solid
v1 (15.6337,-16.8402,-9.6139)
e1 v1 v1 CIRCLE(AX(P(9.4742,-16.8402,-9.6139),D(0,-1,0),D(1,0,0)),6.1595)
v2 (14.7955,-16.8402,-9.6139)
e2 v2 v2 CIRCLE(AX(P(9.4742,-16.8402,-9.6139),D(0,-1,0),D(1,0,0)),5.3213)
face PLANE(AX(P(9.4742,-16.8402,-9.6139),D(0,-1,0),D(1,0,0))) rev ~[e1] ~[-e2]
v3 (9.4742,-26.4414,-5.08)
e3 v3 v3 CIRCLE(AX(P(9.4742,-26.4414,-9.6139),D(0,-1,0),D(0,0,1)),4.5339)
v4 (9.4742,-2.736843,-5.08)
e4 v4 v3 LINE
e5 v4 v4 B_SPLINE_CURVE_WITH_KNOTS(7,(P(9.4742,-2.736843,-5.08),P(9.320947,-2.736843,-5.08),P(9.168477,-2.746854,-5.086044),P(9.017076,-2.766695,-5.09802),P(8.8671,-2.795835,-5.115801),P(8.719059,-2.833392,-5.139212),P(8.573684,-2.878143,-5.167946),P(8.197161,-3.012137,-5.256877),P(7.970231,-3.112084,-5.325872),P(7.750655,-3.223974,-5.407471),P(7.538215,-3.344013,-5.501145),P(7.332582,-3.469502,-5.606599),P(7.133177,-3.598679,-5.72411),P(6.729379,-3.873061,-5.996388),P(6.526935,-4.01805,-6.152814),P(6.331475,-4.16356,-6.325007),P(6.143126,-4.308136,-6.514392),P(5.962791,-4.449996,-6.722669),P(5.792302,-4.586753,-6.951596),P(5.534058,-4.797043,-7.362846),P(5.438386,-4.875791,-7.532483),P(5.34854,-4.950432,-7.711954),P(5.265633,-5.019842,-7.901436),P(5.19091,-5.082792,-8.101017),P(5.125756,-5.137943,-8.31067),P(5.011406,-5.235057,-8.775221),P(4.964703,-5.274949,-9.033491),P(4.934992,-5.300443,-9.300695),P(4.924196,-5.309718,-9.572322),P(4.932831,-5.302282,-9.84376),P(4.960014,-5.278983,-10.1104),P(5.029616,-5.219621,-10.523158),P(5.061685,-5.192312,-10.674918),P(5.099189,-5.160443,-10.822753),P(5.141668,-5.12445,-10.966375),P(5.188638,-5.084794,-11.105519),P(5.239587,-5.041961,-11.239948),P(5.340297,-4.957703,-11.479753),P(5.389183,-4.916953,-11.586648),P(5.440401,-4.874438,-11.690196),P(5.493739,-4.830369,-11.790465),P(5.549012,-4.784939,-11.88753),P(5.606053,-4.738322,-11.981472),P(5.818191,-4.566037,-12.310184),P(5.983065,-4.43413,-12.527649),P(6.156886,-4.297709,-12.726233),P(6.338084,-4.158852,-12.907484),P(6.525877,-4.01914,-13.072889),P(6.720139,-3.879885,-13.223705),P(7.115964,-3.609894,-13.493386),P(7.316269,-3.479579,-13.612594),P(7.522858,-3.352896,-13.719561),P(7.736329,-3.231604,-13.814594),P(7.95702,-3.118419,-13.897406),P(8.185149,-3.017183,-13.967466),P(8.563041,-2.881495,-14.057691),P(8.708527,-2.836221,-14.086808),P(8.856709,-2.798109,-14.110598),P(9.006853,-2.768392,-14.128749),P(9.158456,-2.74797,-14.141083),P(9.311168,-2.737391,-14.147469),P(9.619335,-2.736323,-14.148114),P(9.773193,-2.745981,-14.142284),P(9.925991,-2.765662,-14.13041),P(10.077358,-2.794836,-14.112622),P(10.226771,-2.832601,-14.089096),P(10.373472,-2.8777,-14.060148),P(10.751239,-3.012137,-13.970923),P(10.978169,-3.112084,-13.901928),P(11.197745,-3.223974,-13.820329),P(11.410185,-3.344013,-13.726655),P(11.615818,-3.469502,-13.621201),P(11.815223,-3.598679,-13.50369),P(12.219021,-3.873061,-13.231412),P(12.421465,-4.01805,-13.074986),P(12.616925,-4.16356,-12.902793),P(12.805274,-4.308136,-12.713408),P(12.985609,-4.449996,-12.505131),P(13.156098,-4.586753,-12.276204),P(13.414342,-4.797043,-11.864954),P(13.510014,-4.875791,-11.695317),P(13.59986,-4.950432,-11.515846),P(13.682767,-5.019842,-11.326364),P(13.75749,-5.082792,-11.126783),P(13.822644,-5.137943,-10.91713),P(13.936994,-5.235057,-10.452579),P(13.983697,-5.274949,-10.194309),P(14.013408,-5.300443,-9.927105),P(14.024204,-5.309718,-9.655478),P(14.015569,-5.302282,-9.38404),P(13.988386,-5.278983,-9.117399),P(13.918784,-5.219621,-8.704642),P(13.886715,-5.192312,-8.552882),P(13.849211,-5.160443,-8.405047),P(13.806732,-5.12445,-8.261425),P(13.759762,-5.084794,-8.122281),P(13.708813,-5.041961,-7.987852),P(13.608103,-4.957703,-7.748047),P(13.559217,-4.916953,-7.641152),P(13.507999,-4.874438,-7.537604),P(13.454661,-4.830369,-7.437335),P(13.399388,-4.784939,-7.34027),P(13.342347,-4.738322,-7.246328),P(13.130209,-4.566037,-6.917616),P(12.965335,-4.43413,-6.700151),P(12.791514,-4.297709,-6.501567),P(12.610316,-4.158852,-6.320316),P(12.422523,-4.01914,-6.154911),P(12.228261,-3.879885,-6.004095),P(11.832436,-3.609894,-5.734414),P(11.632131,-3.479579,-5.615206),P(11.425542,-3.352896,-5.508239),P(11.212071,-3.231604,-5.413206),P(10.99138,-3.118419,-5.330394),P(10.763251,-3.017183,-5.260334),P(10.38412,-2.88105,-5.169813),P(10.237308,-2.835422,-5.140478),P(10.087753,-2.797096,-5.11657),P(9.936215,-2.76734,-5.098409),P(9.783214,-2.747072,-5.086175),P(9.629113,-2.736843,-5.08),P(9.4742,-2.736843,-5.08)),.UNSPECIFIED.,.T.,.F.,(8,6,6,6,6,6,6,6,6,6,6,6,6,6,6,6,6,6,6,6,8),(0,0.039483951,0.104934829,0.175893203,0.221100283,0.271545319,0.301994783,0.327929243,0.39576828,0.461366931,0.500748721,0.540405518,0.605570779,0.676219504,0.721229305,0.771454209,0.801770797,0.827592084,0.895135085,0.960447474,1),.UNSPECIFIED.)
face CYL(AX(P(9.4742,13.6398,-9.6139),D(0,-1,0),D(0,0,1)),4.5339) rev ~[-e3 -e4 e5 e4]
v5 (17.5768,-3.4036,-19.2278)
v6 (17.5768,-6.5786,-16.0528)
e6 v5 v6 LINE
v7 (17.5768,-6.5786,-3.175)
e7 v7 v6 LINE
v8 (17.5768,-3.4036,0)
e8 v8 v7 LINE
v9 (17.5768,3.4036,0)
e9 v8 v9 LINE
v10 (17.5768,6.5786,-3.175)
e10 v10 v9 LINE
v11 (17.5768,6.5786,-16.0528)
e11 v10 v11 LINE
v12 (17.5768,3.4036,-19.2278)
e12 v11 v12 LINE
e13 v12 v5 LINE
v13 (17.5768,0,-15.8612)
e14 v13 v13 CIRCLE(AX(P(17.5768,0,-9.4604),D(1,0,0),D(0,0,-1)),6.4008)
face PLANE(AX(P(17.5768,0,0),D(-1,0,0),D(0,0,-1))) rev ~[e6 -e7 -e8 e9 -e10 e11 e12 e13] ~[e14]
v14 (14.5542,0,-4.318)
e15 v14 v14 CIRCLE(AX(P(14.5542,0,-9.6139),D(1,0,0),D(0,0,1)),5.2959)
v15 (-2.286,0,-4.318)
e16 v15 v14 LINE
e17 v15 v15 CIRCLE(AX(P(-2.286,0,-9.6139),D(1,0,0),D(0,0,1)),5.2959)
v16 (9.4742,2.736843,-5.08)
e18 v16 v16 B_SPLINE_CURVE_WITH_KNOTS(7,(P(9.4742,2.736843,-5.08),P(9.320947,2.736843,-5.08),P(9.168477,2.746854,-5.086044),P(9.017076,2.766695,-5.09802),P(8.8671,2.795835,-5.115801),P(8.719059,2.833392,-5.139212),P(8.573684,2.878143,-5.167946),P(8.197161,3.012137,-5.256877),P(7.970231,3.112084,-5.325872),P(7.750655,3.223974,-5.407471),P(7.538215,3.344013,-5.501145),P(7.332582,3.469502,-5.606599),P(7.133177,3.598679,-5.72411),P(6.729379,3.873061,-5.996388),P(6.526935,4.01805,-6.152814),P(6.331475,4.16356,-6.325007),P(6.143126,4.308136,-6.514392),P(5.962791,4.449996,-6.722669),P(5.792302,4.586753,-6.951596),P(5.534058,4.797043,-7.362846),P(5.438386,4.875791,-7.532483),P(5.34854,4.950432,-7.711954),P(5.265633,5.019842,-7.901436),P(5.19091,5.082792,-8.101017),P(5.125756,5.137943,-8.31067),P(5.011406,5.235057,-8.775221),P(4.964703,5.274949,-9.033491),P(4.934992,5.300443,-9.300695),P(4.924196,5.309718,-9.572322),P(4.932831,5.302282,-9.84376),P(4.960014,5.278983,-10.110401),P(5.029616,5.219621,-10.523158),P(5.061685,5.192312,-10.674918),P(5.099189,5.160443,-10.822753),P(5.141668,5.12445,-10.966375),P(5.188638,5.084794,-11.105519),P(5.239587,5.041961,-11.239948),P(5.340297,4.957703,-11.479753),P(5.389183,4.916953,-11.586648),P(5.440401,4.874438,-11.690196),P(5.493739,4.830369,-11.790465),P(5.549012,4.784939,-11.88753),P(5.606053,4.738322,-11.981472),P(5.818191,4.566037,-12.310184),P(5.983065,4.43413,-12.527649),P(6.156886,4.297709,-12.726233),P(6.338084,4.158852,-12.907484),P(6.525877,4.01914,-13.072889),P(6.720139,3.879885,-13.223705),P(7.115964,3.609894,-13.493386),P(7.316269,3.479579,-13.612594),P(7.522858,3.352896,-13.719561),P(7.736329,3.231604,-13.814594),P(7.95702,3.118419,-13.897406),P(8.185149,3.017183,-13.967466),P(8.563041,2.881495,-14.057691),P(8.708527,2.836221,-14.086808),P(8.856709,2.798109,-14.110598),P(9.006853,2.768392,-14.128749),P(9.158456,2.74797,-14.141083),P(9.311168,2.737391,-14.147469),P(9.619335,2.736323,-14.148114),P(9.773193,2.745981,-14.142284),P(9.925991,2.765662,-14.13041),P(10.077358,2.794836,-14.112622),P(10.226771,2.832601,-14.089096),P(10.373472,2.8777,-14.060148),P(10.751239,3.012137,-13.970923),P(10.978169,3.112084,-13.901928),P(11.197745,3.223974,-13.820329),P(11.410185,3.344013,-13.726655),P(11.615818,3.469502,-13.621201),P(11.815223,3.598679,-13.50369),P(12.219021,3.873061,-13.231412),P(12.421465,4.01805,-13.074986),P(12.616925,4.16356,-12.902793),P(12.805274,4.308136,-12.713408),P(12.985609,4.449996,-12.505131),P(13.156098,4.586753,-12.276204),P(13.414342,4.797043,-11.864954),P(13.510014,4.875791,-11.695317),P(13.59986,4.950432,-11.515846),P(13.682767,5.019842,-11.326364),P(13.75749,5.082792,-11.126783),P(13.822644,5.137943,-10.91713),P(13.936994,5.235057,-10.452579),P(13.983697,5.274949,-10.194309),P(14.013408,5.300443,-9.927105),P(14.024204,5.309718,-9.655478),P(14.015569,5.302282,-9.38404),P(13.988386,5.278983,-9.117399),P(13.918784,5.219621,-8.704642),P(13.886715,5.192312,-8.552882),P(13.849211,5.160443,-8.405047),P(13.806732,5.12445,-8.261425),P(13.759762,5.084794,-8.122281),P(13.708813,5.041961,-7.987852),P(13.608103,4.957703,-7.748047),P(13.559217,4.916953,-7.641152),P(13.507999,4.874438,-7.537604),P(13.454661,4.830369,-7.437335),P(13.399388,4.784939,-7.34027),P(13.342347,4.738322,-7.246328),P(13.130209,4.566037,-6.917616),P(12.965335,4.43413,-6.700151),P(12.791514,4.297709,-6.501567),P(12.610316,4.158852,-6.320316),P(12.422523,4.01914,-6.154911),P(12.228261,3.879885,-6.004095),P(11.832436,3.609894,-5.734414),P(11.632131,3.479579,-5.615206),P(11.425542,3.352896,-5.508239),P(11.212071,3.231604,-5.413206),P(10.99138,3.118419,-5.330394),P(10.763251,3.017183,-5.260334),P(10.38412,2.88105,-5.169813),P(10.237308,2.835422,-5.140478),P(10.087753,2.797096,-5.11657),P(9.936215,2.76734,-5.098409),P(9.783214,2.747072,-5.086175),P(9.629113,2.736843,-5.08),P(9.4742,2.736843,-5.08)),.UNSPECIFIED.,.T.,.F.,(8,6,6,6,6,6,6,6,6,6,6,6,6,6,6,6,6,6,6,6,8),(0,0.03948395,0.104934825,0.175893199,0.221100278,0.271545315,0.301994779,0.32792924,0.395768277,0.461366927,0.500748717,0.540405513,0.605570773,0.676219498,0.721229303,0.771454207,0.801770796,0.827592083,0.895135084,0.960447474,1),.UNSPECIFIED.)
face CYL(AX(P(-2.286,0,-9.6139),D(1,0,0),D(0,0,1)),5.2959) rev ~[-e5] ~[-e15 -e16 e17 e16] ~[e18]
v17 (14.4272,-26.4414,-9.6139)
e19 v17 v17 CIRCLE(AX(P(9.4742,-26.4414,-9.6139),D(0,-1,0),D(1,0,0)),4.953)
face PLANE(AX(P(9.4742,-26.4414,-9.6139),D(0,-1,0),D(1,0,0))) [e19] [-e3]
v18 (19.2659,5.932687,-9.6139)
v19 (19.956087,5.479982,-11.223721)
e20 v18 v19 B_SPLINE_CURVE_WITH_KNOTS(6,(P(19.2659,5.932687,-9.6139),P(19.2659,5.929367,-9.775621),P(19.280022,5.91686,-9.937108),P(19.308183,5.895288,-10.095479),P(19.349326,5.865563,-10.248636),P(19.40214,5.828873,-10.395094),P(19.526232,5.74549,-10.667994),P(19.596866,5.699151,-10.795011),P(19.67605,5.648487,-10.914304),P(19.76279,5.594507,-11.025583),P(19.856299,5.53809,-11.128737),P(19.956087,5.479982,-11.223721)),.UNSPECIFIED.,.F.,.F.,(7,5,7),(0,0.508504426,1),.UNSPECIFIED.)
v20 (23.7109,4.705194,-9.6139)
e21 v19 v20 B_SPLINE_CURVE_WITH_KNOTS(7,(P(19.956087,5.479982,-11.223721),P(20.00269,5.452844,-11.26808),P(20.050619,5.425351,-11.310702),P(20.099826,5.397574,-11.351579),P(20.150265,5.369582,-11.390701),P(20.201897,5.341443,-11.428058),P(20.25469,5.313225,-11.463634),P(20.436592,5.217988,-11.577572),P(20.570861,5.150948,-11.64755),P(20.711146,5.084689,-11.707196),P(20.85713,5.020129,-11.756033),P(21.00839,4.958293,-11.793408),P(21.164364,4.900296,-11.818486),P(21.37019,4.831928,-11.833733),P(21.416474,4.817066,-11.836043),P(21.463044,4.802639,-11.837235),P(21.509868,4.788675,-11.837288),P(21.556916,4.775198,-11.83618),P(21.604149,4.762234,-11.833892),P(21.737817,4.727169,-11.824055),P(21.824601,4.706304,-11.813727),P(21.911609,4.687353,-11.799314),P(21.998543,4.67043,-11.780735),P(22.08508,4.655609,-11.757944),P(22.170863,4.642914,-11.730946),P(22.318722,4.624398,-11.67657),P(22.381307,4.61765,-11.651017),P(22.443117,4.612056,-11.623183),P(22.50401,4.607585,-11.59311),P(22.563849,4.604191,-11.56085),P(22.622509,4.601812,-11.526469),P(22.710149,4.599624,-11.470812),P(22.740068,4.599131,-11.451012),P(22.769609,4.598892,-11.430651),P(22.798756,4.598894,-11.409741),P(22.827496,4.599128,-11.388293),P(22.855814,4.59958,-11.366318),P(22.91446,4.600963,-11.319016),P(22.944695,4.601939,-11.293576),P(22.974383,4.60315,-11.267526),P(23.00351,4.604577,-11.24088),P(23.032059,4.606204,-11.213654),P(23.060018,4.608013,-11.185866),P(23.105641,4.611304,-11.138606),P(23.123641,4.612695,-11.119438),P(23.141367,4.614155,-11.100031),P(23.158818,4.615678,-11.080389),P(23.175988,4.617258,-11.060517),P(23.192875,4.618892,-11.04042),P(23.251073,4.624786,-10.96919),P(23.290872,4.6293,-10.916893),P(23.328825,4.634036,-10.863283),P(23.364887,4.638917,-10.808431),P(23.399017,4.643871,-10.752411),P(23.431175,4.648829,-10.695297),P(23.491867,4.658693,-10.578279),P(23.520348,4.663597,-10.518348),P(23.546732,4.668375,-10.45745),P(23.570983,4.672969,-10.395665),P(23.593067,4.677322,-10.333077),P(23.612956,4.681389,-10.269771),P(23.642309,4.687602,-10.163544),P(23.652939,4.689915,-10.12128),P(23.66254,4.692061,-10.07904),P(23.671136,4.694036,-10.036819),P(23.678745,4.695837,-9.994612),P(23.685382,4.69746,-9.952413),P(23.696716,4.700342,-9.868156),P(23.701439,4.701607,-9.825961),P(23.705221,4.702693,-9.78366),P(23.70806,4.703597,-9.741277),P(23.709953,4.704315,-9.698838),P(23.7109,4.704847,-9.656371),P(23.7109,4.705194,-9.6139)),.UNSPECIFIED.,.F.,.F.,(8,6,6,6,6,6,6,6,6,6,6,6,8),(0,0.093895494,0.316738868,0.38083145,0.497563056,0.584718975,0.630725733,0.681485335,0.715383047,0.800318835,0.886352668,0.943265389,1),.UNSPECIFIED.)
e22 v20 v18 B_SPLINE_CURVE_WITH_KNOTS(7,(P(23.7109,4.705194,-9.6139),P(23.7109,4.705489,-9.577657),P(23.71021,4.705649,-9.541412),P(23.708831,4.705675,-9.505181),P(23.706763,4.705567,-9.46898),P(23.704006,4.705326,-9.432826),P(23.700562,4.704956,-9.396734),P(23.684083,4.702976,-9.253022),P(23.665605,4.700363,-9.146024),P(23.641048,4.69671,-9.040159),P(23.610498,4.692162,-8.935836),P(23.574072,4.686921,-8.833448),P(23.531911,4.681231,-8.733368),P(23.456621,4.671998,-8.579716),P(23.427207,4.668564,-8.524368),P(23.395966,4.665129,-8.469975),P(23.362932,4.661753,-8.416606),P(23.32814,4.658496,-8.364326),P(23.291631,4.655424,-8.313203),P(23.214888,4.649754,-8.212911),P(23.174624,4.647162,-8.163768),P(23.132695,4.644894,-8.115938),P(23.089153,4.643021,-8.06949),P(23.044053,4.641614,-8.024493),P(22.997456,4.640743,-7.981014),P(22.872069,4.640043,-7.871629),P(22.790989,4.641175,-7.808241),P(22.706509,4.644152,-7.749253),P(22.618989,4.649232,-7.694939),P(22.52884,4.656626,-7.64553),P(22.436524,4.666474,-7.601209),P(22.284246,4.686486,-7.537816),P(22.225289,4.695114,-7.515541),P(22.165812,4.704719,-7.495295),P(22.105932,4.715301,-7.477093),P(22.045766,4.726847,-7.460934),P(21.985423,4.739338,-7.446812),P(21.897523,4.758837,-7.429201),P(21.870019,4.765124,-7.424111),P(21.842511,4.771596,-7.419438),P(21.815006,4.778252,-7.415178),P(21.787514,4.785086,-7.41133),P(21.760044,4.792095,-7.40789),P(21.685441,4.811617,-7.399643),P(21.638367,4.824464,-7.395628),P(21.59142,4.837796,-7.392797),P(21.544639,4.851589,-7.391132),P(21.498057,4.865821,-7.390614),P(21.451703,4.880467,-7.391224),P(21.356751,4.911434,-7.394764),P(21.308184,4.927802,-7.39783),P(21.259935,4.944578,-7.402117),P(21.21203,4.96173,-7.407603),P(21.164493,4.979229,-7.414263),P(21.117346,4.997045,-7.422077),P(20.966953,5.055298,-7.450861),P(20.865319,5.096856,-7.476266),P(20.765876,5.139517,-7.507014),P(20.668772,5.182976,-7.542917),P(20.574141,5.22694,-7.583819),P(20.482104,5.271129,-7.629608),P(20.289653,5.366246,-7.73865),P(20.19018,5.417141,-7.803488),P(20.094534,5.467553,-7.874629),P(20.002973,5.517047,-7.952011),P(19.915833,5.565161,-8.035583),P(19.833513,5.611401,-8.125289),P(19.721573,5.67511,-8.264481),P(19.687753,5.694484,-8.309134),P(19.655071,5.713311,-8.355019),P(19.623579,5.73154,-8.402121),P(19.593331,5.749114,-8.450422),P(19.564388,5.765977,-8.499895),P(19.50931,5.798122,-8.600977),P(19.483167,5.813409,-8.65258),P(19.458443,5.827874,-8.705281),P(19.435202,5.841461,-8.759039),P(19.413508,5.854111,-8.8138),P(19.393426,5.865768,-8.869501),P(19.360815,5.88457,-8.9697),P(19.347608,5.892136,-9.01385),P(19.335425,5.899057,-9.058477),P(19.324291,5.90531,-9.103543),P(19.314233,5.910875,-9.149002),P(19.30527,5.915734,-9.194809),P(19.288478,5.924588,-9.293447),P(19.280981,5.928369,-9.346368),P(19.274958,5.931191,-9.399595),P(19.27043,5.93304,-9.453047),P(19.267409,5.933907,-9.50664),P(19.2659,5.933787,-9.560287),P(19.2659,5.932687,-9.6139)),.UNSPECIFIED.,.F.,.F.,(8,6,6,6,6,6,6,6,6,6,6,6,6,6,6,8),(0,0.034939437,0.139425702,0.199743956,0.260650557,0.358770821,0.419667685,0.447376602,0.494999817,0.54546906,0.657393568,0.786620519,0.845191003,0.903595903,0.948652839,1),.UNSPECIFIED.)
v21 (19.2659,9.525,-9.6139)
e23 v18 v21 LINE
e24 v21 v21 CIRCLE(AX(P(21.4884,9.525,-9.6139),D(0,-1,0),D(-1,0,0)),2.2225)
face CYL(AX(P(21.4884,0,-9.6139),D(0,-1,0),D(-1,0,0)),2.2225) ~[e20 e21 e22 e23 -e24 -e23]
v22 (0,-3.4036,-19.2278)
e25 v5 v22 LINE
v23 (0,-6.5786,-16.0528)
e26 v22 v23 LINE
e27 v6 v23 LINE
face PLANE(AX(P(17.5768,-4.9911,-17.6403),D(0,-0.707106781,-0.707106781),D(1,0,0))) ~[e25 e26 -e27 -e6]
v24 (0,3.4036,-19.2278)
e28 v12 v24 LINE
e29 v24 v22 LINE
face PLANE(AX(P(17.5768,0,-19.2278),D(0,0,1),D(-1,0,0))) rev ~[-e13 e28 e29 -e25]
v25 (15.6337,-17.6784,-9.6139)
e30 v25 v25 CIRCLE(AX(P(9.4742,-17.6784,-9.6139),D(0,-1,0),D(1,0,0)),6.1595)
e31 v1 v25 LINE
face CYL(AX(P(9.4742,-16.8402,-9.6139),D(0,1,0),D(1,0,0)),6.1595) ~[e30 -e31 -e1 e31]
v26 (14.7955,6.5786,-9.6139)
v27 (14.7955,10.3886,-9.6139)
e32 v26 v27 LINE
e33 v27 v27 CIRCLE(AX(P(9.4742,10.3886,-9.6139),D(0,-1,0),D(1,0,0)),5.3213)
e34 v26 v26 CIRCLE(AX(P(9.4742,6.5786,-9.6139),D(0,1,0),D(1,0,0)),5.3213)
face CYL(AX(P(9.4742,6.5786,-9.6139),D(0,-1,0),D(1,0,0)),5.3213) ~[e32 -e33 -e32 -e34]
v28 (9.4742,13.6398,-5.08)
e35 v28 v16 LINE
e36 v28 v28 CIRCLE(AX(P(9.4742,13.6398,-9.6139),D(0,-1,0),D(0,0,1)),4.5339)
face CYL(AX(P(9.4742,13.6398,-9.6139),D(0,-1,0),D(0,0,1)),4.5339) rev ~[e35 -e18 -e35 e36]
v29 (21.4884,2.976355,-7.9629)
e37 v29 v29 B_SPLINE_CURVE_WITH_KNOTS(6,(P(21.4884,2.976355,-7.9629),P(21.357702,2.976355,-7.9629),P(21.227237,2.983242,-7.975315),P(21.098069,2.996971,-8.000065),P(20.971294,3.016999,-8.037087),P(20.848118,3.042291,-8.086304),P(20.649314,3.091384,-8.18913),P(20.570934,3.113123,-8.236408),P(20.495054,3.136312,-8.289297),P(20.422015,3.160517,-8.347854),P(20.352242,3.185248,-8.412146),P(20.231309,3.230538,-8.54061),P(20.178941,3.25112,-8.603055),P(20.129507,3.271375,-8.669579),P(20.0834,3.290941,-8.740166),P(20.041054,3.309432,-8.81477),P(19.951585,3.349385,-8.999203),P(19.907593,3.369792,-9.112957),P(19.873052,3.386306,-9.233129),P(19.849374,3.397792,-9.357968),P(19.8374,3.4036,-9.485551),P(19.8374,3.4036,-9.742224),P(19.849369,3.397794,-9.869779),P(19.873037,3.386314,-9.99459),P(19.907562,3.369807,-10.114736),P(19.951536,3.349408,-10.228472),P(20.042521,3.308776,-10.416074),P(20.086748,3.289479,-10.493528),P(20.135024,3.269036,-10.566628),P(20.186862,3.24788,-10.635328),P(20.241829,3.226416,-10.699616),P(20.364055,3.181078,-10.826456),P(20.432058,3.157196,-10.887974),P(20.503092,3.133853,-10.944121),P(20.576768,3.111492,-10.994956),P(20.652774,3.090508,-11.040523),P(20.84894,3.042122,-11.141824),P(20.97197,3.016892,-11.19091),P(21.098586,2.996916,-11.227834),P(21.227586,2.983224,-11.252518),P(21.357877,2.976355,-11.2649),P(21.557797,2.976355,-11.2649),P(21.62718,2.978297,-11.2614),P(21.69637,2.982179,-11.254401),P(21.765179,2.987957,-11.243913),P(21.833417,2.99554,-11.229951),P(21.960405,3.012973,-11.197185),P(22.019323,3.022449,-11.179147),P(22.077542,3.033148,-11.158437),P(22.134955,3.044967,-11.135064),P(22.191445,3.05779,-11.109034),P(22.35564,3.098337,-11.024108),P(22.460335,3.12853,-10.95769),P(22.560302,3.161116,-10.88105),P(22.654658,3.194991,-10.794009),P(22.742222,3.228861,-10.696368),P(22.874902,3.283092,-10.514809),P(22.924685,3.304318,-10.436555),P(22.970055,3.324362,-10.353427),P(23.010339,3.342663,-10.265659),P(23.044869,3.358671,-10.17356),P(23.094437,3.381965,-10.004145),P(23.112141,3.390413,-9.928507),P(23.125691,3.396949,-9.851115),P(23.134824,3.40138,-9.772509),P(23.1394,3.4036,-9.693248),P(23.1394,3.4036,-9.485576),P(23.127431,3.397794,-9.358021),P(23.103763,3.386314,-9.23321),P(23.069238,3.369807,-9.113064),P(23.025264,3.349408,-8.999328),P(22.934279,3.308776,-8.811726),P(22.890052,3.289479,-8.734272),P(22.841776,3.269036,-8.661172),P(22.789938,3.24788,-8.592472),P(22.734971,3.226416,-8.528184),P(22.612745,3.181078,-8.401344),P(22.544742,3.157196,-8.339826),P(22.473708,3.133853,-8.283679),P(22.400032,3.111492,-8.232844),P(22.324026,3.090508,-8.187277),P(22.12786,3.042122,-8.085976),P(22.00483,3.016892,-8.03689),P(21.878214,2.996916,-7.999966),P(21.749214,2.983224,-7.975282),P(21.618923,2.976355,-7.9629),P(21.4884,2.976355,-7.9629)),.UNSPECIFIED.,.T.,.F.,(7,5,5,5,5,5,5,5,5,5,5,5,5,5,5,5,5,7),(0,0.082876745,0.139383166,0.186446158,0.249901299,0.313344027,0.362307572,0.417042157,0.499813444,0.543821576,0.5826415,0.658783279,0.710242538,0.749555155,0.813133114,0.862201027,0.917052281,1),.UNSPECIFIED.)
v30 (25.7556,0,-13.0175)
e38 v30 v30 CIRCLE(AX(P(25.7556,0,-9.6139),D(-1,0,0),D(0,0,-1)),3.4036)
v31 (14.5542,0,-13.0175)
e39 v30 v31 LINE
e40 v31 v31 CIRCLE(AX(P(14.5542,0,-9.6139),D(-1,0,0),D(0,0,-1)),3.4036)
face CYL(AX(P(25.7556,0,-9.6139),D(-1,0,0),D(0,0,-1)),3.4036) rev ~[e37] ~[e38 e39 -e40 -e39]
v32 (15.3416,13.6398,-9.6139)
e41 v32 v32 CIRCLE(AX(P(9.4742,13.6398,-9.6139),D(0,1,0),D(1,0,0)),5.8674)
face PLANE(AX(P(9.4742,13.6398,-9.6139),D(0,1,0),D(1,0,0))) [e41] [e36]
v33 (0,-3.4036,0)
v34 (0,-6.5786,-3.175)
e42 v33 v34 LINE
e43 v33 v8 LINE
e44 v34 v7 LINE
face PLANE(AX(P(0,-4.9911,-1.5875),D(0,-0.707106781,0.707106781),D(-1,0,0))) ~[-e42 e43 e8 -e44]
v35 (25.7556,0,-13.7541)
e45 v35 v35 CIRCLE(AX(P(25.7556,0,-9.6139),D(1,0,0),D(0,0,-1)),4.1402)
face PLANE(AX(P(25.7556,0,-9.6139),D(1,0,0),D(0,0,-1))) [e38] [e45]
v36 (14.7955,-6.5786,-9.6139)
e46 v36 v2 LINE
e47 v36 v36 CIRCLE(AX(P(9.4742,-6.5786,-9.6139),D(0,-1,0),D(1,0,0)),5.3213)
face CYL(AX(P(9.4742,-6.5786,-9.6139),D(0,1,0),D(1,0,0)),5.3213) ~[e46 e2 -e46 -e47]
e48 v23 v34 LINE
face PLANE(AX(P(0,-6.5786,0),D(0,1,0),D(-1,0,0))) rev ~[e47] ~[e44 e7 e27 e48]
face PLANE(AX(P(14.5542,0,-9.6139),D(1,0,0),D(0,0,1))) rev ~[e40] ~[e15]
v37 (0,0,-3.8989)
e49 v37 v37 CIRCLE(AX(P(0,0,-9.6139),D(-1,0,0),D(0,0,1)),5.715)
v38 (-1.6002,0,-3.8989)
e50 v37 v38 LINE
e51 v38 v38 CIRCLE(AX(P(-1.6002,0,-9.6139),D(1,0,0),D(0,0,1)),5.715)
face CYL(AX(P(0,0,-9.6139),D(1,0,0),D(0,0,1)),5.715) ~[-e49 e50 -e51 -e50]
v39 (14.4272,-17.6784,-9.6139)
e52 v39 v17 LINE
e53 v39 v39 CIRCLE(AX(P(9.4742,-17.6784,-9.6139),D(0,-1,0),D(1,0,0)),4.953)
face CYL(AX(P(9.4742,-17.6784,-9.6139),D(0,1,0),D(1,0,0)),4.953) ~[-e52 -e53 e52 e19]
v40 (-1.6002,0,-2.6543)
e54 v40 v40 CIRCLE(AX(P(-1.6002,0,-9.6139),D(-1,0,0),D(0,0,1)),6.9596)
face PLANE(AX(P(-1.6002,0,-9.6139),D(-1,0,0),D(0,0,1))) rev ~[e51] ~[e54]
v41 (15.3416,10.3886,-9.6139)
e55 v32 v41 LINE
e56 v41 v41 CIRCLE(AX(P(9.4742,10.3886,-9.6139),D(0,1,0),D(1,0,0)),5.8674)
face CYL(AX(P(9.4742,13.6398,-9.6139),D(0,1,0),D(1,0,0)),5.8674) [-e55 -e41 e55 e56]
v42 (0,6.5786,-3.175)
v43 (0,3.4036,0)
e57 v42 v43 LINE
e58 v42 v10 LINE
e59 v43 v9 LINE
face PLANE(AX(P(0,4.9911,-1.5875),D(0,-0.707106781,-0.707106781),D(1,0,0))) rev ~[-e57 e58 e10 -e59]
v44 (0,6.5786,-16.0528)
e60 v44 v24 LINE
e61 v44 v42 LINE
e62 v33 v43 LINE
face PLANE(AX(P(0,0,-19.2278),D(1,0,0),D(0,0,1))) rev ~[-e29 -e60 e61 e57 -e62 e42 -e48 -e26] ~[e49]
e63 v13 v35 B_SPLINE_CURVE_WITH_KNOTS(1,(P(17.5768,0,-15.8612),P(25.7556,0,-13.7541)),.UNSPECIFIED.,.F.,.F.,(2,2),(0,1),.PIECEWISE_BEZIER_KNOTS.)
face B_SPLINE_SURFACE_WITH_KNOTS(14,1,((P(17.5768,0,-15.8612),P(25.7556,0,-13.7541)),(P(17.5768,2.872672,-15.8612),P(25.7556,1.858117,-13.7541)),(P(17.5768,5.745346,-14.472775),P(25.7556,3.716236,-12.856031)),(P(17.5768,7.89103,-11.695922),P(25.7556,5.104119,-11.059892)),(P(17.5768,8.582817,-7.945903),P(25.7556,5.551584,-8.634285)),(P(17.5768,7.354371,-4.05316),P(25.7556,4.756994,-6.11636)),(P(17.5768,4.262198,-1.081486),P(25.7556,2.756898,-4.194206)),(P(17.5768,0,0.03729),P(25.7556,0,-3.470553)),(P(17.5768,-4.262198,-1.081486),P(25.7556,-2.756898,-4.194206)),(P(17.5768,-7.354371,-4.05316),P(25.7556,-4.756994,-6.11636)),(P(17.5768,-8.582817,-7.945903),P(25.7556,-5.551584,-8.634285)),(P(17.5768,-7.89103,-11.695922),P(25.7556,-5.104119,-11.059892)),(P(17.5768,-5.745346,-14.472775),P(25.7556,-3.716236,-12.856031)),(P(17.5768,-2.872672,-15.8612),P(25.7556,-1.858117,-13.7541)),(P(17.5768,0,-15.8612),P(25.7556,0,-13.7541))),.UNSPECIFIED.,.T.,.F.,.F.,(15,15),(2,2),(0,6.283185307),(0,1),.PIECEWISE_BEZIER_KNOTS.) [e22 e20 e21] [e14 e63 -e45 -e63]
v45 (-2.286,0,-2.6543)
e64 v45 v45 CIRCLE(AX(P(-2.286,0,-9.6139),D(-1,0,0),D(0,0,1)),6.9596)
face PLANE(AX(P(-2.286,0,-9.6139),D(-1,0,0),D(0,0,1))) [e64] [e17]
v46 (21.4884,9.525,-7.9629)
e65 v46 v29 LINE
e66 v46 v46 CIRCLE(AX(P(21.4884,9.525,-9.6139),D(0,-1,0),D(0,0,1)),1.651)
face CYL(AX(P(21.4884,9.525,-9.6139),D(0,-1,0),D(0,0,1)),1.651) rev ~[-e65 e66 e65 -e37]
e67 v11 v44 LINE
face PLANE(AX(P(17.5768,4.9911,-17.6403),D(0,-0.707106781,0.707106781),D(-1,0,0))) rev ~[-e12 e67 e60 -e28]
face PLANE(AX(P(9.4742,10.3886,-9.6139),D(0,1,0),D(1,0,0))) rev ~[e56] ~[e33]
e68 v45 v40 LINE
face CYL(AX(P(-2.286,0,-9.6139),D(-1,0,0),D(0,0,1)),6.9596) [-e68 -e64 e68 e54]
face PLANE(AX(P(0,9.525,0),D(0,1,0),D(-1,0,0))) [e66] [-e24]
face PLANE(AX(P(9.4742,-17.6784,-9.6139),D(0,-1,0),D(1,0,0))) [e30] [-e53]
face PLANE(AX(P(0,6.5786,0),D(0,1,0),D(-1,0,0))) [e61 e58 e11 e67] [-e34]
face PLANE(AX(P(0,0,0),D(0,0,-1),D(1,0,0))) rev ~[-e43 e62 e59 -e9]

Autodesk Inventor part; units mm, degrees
ref_plane "YZ Plane" through (0, 0, 0) normal (1, 0, 0) x (0, 1, 0)
sketch "Sketch1" plane through (0, 0, 0) normal (0, 1, 0) x (-1, 0, 0)
  line L0 (0, 0) -> (-17.5768, 0)
  line L1 (-17.5768, 0) -> (-17.5768, -19.2278)
  line L2 (-17.5768, -19.2278) -> (0, -19.2278)
  line L3 (0, -19.2278) -> (0, 0)
  dimension "d0" = 17.5768
  dimension "d1" = 19.2278
extrude "Extrusion1" add sketch "Sketch1" along normal mid plane 13.1572
sketch "Sketch4" plane through (0, -6.5786, 0) normal (0, -1, 0) x (1, 0, 0)
  line L0 (17.5768, 0) -> (17.5768, -19.2278) projected
  circle A0 centre (9.4742, -9.6139) radius 5.3213
  point P0 (0, 0)
  dimension "d12" = 10.6426
extrude "Extrusion4" add sketch "Sketch4" along normal blind 10.2616
sketch "Sketch5" plane through (9.4742, -16.8402, -9.6139) normal (0, -1, 0) x (1, 0, 0)
  circle A0 centre (0, 0) radius 6.1595
  point P0 (-9.4742, 9.6139)
  dimension "d15" = 12.319
extrude "Extrusion5" add sketch "Sketch5" along normal blind 0.8382
sketch "Sketch2" plane through (0, 6.5786, 0) normal (0, 1, 0) x (1, 0, 0)
  line L0 (0, 19.2278) -> (0, 0) projected
  line L1 (17.5768, 19.2278) -> (0, 19.2278) projected
  line L2 (0, 0) -> (17.5768, 0) projected
  line L3 (17.5768, 0) -> (17.5768, 19.2278) projected
  line L4 (17.5768, 0) -> (9.4742, 0)
  circle A0 centre (9.4742, 9.6139) radius 5.3213
  dimension "d4" = 8.1026
  dimension "d5" = 10.6426
extrude "Extrusion2" add sketch "Sketch2" along normal blind 7.0612 contours A0
sketch "Sketch3" plane through (9.4742, 13.6398, -9.6139) normal (0, 1, 0) x (1, 0, 0)
  circle A0 centre (0, 0) radius 5.8674
  point P0 (-9.4742, -9.6139)
  dimension "d8" = 11.7348
extrude "Extrusion3" add sketch "Sketch3" against normal blind 3.2512
sketch "Sketch7" plane through (0, -6.5786, 0) normal (-1, 0, 0) x (0, 0, 1)
  line L0 (-19.2278, 13.1572) -> (0, 0) construction
  line L1 (-19.2278, 0) -> (-19.2278, 13.1572) projected
  line L2 (-19.2278, 6.5786) -> (-9.6139, 6.5786) construction
  circle A0 centre (-9.6139, 6.5786) radius 5.715
  point P0 (0, 6.5786)
  dimension "d21" = 11.43
extrude "Extrusion7" add sketch "Sketch7" along normal blind 2.286
sketch "Sketch8" plane through (-2.286, 0, -9.6139) normal (-1, 0, 0) x (0, 0, 1)
  circle A0 centre (0, 0) radius 6.9596
  point P0 (9.6139, 0)
  dimension "d24" = 13.9192
extrude "Extrusion8" add sketch "Sketch8" against normal blind 0.6858
sketch "Sketch6" plane through (9.4742, -17.6784, -9.6139) normal (0, -1, 0) x (1, 0, 0)
  circle A0 centre (0, 0) radius 4.953
  point P0 (-9.4742, 9.6139)
  dimension "d18" = 9.906
extrude "Extrusion6" add sketch "Sketch6" along normal blind 8.763
sketch "Sketch9" plane through (0, 0, 0) normal (0, 0, 1) x (1, 0, 0)
  point P0 (0, 0)
ref_plane "Work Plane1" through (0, 6.5786, -9.6139) normal (0, 0, 1) x (1, 0, 0)
sketch "Sketch11" plane through (0, 0, 0) normal (0, 1, 0) x (-1, 0, 0)
  line L0 (-25.7556, -5.4737) -> (-25.7556, -13.7541) projected
  line L1 (-25.7556, -9.6139) -> (-21.4884, -9.6139)
  circle A0 centre (-21.4884, -9.6139) radius 2.2225
  point P0 (0, 0)
  dimension "d31" = 4.2672
  dimension "d32" = 4.445
extrude "Extrusion9" add sketch "Sketch11" along normal blind 9.525
ref_plane "Work Plane3" through (25.7556, -6.5786, -19.2278) normal (1, 0, 0) x (0, 0, -1)
sketch "Sketch12" plane through (17.5768, -6.5786, -19.2278) normal (1, 0, 0) x (0, 0, -1)
  point P0 (-19.2278, 6.5786)
sketch "Sketch13" plane through (17.5768, -6.5786, -19.2278) normal (1, 0, 0) x (0, 0, -1)
  circle A0 centre (-9.7674, 6.5786) radius 6.4008
  point P0 (-19.2278, 6.5786)
  dimension "d36" = 12.8016
sketch "Sketch14" plane through (25.7556, -6.5786, -19.2278) normal (1, 0, 0) x (0, 0, -1)
  line L0 (-11.8364, 6.5786) -> (-7.3914, 6.5786) projected
  circle A0 centre (-9.6139, 6.5786) radius 4.1402
  point P0 (-19.2278, 6.5786)
  dimension "d37" = 8.2804
loft "Loft1" add profiles "Sketch13", "Sketch14"
chamfer "Chamfer1" distance 3.175 angle 45 4 edges at (8.7884, 6.5786, -19.2278) (8.7884, -6.5786, -19.2278) (8.7884, -6.5786, 0) (8.7884, 6.5786, 0)
hole "Hole1" at (-2.286, 0, -9.6139) direction (1, 0, 0) diameter 10.5918 depth 16.8402
hole "Hole2" at (9.4742, 13.6398, -9.6139) direction (0, -1, 0) diameter 9.0678 end through all
hole "Hole3" at (25.7556, 0, -9.6139) direction (-1, 0, 0) diameter 6.8072 end through all
hole "Hole4" at (21.4884, 9.525, -9.6139) direction (0, -1, 0) diameter 3.302 depth 10.16 tip angle 118 thread size "8-32 UNC" class "2B" standard "ANSI Unified Screw Threads"
properties part number "Carburetor Housing" material "Lead"
